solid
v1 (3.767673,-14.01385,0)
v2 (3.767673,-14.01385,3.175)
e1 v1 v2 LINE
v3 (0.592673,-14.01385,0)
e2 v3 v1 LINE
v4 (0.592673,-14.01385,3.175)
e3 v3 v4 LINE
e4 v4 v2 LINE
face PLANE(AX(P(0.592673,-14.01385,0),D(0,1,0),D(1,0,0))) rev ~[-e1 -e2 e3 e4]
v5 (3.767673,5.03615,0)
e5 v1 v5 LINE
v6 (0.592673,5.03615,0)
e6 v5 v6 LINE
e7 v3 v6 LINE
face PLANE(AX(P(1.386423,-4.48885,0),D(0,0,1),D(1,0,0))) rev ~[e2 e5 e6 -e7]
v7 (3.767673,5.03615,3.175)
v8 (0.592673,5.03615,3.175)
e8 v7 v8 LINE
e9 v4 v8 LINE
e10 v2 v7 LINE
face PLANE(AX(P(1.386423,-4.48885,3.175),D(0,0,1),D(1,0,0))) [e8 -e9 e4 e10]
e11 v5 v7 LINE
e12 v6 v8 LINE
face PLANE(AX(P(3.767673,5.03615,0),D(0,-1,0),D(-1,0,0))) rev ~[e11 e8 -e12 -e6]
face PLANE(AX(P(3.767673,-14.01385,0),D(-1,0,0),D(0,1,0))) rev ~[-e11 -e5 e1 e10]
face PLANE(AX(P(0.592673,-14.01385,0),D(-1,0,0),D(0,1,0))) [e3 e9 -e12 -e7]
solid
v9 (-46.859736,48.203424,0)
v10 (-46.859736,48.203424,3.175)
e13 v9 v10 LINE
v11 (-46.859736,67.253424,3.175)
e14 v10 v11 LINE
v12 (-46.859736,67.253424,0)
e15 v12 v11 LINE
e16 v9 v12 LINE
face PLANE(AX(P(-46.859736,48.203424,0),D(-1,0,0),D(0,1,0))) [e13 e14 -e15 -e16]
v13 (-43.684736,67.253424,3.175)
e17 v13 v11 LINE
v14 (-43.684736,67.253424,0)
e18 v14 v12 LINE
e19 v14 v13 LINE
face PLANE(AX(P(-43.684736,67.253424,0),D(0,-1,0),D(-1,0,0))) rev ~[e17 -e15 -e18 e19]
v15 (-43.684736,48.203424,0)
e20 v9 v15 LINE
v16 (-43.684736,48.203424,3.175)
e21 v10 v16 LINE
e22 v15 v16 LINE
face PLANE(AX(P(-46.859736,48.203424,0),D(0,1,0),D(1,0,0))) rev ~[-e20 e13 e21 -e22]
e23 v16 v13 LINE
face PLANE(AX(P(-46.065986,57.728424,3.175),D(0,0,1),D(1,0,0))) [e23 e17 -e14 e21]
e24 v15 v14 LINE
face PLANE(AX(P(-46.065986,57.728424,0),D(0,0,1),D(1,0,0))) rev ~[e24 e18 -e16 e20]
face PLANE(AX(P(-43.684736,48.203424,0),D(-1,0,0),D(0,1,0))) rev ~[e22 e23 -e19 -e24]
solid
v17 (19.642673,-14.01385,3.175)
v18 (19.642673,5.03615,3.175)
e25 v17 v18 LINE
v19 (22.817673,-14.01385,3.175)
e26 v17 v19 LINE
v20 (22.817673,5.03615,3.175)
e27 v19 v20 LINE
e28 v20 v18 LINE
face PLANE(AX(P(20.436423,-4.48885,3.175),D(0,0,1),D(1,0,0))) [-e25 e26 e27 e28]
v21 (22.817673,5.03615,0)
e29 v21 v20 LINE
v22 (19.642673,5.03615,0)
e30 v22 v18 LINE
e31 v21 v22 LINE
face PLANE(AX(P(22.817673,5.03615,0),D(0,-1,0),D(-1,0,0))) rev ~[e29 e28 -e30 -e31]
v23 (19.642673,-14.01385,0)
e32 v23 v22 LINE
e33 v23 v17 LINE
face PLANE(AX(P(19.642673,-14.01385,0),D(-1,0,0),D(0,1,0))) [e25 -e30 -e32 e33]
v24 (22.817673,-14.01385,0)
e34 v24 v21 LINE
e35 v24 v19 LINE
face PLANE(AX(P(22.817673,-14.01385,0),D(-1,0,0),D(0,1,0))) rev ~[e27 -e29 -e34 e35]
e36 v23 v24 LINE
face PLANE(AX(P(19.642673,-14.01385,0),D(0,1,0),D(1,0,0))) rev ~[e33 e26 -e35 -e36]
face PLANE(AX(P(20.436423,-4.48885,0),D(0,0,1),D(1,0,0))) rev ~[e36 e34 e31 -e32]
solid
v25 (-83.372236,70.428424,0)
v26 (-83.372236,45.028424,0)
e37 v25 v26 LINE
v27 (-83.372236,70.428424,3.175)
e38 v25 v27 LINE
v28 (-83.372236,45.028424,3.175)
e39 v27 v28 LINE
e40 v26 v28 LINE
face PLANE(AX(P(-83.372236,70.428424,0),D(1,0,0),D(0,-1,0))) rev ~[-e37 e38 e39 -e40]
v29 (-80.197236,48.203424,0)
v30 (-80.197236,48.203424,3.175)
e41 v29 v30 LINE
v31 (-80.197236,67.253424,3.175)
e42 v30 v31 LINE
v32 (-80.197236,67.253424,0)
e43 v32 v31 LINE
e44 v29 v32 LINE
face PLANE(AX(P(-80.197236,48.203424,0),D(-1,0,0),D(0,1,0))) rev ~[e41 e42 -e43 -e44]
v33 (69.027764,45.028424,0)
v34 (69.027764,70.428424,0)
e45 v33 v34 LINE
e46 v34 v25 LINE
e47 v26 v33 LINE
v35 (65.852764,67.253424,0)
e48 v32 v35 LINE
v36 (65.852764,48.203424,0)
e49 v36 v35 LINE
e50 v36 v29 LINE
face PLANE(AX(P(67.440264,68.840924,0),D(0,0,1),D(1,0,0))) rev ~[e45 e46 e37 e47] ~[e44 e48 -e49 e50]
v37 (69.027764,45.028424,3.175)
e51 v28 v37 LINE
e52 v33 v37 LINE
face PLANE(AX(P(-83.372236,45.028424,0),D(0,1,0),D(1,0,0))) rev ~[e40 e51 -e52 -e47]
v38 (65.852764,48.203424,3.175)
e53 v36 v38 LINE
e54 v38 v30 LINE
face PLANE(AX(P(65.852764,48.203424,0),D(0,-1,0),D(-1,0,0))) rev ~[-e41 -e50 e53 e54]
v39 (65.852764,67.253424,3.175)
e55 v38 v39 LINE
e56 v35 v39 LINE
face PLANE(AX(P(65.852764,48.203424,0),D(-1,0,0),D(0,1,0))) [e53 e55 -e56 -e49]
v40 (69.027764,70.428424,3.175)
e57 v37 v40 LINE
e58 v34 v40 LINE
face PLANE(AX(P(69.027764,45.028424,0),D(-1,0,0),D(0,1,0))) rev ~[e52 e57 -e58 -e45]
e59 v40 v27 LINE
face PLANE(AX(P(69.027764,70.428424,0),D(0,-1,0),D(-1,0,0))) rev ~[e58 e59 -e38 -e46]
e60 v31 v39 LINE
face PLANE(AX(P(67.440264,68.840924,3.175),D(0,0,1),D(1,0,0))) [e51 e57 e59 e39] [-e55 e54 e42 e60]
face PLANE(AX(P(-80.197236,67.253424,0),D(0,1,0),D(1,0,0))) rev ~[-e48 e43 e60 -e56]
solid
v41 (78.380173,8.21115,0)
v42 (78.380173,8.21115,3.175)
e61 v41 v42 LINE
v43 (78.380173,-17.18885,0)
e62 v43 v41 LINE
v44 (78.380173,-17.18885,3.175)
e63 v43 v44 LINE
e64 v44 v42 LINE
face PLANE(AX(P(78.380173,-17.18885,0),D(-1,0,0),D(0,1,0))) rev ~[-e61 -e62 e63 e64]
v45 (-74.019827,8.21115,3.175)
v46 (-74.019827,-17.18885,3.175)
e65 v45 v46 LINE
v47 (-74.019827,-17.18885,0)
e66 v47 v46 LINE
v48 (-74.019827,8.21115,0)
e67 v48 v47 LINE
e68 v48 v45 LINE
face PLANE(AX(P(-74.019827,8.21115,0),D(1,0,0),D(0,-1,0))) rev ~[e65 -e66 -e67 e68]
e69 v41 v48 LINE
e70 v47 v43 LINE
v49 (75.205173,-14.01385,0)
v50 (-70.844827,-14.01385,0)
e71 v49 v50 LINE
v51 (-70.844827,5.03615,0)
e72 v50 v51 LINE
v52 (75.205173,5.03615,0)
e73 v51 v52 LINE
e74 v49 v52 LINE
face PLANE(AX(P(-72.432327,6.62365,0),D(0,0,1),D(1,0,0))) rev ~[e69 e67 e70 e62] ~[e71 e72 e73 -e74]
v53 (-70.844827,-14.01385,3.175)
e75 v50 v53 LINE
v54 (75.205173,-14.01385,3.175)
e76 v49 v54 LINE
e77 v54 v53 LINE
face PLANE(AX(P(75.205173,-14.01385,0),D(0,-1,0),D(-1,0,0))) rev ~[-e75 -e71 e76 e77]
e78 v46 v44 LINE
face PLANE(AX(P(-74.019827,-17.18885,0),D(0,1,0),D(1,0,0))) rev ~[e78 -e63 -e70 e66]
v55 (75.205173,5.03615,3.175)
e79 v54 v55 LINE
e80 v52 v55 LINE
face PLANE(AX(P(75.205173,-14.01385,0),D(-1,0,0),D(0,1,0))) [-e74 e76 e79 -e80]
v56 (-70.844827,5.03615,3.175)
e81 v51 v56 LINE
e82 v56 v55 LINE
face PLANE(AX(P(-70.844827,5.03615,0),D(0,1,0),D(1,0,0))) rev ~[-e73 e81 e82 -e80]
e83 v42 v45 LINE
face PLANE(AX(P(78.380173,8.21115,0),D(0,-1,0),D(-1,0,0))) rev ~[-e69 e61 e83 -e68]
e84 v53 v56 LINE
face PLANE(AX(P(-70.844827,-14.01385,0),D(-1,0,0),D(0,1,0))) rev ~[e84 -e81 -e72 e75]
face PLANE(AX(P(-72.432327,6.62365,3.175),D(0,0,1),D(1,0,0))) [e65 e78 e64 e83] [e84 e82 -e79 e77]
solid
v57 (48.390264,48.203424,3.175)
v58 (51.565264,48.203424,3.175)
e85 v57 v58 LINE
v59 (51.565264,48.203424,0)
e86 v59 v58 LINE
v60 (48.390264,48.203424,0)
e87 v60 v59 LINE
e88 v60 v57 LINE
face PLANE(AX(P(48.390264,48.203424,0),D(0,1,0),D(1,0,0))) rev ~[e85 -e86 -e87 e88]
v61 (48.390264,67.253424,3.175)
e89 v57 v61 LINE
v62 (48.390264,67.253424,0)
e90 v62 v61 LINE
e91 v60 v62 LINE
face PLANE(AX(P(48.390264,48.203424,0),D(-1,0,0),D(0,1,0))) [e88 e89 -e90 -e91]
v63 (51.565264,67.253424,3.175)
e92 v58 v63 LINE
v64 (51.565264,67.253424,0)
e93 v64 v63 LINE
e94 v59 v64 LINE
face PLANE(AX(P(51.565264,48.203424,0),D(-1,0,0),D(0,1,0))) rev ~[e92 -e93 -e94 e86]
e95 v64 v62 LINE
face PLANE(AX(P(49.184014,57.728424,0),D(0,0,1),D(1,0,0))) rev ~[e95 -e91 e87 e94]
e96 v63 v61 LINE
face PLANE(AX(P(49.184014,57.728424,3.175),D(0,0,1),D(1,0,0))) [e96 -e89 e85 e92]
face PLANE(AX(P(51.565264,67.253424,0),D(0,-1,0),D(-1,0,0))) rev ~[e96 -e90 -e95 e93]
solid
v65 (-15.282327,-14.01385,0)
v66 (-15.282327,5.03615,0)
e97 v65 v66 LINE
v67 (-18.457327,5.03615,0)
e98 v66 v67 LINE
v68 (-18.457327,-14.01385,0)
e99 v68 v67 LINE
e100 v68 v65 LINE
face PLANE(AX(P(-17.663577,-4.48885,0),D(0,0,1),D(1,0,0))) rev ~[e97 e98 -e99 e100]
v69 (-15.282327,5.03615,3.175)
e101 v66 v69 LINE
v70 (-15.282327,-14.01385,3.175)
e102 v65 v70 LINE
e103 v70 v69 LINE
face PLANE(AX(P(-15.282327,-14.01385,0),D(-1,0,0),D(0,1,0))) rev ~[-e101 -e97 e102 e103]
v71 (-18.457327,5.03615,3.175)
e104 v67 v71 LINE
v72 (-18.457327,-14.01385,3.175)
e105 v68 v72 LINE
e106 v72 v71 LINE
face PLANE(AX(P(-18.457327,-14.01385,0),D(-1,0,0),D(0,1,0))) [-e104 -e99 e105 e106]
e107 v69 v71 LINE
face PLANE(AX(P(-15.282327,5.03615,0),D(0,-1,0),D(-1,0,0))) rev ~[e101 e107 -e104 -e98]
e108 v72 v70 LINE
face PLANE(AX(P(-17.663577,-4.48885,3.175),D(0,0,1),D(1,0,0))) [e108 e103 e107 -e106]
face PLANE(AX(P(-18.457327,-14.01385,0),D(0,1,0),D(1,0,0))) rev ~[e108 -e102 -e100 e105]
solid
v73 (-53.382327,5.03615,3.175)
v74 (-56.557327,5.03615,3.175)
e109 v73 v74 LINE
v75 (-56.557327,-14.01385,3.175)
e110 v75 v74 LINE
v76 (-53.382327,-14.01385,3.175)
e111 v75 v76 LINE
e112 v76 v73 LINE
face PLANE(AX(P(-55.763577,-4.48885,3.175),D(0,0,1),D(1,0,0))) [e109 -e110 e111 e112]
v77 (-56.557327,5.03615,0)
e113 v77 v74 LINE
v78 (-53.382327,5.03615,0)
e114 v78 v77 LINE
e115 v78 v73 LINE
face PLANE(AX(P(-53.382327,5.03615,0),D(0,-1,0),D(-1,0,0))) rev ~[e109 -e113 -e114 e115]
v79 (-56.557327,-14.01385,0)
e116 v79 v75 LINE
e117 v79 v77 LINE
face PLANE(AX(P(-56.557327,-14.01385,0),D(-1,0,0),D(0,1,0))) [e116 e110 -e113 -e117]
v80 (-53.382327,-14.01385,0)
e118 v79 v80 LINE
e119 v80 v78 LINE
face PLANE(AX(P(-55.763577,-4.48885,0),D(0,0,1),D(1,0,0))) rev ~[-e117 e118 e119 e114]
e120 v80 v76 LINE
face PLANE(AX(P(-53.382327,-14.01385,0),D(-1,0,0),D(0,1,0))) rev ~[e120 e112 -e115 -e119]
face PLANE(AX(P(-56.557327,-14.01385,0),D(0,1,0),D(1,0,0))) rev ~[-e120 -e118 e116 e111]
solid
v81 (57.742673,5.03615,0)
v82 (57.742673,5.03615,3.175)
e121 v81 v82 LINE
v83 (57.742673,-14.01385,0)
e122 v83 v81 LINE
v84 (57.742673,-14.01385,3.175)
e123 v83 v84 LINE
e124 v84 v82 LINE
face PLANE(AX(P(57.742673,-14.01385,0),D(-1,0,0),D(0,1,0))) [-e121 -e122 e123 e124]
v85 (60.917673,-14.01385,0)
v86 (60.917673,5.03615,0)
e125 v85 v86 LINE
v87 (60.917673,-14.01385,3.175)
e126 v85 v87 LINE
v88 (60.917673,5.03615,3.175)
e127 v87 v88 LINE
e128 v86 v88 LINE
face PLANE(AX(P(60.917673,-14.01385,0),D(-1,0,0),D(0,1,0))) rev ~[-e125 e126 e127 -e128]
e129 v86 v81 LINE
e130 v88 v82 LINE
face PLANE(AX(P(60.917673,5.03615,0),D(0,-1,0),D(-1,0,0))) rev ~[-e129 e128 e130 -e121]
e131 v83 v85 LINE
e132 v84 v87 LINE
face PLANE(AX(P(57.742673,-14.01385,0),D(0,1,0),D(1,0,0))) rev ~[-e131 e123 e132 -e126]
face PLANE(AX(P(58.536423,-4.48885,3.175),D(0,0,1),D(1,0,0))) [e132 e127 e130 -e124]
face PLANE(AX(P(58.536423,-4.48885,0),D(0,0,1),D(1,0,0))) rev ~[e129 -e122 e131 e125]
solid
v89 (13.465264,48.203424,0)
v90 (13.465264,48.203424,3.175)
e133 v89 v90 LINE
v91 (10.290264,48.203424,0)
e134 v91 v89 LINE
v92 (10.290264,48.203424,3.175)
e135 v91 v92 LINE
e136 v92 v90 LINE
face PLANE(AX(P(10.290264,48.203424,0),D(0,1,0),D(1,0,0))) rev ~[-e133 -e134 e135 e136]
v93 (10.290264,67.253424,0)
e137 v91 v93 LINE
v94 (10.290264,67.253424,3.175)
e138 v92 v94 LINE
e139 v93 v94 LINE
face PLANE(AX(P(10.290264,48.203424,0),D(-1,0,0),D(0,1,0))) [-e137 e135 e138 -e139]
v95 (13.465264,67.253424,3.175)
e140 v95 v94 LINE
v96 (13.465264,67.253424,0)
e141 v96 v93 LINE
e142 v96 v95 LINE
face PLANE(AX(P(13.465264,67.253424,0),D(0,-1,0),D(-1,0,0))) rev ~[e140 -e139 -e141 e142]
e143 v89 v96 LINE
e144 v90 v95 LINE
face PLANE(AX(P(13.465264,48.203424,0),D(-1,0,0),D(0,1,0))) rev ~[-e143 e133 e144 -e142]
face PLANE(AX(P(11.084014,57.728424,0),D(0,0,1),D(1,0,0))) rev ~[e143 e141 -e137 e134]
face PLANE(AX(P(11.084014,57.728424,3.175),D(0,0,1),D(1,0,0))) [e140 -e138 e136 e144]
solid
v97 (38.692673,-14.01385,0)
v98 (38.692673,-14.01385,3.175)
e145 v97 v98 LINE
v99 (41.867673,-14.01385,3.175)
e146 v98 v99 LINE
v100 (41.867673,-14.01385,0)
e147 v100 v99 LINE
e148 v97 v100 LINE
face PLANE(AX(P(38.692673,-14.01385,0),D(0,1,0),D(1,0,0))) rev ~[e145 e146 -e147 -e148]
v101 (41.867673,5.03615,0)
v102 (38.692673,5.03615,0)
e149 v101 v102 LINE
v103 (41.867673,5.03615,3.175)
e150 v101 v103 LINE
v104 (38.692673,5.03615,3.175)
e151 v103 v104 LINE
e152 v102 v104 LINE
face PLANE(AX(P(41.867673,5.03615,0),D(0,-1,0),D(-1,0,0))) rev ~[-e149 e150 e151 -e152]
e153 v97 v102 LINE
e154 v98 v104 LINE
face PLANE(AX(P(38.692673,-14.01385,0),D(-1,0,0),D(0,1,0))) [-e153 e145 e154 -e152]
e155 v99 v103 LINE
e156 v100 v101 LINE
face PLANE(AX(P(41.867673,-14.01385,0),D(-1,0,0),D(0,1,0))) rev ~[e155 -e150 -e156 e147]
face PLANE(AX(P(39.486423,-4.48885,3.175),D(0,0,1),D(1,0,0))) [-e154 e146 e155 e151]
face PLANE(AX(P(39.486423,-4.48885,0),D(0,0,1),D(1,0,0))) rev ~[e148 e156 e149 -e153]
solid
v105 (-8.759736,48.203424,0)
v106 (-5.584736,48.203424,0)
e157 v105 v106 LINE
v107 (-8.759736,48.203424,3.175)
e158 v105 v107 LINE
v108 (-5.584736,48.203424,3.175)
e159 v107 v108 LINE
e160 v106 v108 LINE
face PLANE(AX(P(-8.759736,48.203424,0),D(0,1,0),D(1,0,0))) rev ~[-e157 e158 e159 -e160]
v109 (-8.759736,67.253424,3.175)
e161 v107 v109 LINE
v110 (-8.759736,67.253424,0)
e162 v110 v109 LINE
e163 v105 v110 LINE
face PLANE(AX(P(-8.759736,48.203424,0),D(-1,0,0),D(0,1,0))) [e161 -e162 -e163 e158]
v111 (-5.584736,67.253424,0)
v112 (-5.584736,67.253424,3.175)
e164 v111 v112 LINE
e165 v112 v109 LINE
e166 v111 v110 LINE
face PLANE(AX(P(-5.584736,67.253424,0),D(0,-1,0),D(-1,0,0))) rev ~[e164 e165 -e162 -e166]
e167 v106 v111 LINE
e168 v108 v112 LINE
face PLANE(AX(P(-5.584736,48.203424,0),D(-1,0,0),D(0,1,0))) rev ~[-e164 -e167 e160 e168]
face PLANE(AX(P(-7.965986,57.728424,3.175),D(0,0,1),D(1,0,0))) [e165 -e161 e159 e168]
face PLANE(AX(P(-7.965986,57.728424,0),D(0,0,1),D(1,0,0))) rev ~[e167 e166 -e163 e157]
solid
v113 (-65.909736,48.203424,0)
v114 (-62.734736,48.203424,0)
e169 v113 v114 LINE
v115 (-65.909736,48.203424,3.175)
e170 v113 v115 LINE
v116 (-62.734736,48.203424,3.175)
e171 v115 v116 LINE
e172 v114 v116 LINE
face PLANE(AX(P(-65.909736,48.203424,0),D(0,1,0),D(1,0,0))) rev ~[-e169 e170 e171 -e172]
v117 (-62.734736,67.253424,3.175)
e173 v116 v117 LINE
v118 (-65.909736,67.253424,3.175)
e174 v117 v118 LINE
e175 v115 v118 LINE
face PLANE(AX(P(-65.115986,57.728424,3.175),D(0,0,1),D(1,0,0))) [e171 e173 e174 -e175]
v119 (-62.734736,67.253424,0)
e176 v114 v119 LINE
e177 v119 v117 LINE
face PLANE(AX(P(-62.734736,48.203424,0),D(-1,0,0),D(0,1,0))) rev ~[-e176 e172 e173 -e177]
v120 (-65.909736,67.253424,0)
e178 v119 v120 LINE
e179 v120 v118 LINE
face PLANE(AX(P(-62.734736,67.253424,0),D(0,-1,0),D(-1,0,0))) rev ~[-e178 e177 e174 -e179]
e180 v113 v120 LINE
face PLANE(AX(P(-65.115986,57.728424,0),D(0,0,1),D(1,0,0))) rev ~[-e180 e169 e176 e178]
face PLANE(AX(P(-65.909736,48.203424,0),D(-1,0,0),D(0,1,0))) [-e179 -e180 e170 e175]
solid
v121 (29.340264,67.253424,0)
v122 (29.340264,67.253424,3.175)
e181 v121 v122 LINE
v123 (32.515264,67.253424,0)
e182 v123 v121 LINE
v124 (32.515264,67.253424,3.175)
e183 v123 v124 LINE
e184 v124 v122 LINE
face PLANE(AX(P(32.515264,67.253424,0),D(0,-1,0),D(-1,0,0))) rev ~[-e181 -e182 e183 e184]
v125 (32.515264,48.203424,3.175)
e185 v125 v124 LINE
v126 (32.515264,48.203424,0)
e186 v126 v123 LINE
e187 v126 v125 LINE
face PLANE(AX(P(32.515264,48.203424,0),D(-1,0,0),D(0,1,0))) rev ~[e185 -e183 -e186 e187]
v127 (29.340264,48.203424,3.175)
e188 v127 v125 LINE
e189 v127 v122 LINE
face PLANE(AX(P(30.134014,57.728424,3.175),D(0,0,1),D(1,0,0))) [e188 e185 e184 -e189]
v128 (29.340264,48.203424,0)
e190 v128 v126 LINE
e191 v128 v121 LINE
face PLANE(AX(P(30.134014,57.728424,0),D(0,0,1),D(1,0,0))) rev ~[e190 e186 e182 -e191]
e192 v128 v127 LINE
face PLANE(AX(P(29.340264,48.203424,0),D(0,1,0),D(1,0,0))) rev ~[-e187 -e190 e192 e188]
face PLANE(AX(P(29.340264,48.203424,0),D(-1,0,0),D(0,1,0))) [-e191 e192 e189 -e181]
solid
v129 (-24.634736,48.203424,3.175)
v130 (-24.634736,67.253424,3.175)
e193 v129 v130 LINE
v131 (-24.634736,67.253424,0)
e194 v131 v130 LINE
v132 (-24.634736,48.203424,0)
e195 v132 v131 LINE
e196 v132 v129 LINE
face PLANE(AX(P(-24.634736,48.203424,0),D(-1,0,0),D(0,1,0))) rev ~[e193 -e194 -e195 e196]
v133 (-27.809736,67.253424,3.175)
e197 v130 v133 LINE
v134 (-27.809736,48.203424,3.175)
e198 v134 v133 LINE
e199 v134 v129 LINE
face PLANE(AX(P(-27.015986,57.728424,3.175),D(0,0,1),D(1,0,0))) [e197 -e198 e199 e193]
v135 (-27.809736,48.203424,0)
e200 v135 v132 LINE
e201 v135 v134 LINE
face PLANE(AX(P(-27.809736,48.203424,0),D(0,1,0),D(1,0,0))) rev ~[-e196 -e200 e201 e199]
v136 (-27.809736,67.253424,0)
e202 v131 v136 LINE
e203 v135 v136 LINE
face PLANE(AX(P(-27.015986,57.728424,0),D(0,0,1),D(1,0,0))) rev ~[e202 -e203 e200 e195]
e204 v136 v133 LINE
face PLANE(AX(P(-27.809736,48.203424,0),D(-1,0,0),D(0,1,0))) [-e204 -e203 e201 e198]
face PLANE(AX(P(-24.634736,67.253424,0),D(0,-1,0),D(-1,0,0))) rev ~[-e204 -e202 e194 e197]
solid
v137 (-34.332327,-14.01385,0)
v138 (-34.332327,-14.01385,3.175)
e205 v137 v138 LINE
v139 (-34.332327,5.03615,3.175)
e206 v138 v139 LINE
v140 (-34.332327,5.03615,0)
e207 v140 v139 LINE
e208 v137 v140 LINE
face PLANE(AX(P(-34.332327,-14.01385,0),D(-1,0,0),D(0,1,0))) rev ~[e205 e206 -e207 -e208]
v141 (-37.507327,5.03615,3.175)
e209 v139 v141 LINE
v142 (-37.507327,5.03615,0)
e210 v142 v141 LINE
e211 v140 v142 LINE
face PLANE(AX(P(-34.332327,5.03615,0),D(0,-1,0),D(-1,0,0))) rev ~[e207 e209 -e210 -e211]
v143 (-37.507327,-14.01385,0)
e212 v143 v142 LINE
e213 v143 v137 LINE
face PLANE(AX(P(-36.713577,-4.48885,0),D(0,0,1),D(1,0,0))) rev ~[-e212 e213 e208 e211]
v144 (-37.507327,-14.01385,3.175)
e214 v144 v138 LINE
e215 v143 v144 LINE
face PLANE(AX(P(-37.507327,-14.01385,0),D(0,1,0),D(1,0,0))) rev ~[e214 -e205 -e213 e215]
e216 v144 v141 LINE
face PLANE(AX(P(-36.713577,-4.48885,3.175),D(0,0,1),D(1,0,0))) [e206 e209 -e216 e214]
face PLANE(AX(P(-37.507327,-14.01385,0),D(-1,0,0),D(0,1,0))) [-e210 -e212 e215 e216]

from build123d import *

# Parameters (mm, degrees)
F0_W     = 3.175
F0_H     = 3.175
F0_W_2   = 14.2875
F0_W_3   = 1.5875
F0_W_4   = 15.875
F0_H_2   = 19.05
F1_DEPTH = 3.175
F2_DEPTH = 3.175


with BuildPart() as f1:
    # F0 (on Top) → F1 (new body)
    with BuildSketch(Plane.XY):
        with Locations((-72.4323269486, 6.6236498341)):
            Rectangle(F0_W, F0_H)
        with Locations((76.7926730514, 6.6236498341)):
            Rectangle(F0_W, F0_H)
        with Locations((-72.4323269486, -15.6013501659)):
            Rectangle(F0_W, F0_H)
        with Locations((76.7926730514, -15.6013501659)):
            Rectangle(F0_W, F0_H)
        with Locations((-63.7010769486, 6.6236498341)):
            Rectangle(F0_W_2, F0_H)
        with Locations((-55.7635769486, 6.6236498341)):
            Rectangle(F0_W_3, F0_H)
        with Locations((-54.1760769486, 6.6236498341)):
            Rectangle(F0_W_3, F0_H)
        with Locations((-45.4448269486, 6.6236498341)):
            Rectangle(F0_W_4, F0_H)
        with Locations((-36.7135769486, 6.6236498341)):
            Rectangle(F0_W_3, F0_H)
        with Locations((-35.1260769486, 6.6236498341)):
            Rectangle(F0_W_3, F0_H)
        with Locations((-26.3948269486, 6.6236498341)):
            Rectangle(F0_W_4, F0_H)
        with Locations((-17.6635769486, 6.6236498341)):
            Rectangle(F0_W_3, F0_H)
        with Locations((-16.0760769486, 6.6236498341)):
            Rectangle(F0_W_3, F0_H)
        with Locations((-7.3448269486, 6.6236498341)):
            Rectangle(F0_W_4, F0_H)
        with Locations((1.3864230514, 6.6236498341)):
            Rectangle(F0_W_3, F0_H)
        with Locations((2.9739230514, 6.6236498341)):
            Rectangle(F0_W_3, F0_H)
        with Locations((11.7051730514, 6.6236498341)):
            Rectangle(F0_W_4, F0_H)
        with Locations((20.4364230514, 6.6236498341)):
            Rectangle(F0_W_3, F0_H)
        with Locations((22.0239230514, 6.6236498341)):
            Rectangle(F0_W_3, F0_H)
        with Locations((30.7551730514, 6.6236498341)):
            Rectangle(F0_W_4, F0_H)
        with Locations((39.4864230514, 6.6236498341)):
            Rectangle(F0_W_3, F0_H)
        with Locations((41.0739230514, 6.6236498341)):
            Rectangle(F0_W_3, F0_H)
        with Locations((49.8051730514, 6.6236498341)):
            Rectangle(F0_W_4, F0_H)
        with Locations((58.5364230514, 6.6236498341)):
            Rectangle(F0_W_3, F0_H)
        with Locations((60.1239230514, 6.6236498341)):
            Rectangle(F0_W_3, F0_H)
        with Locations((68.0614230514, 6.6236498341)):
            Rectangle(F0_W_2, F0_H)
        with Locations((-63.7010769486, -15.6013501659)):
            Rectangle(F0_W_2, F0_H)
        with Locations((-55.7635769486, -15.6013501659)):
            Rectangle(F0_W_3, F0_H)
        with Locations((-54.1760769486, -15.6013501659)):
            Rectangle(F0_W_3, F0_H)
        with Locations((-45.4448269486, -15.6013501659)):
            Rectangle(F0_W_4, F0_H)
        with Locations((-36.7135769486, -15.6013501659)):
            Rectangle(F0_W_3, F0_H)
        with Locations((-35.1260769486, -15.6013501659)):
            Rectangle(F0_W_3, F0_H)
        with Locations((-26.3948269486, -15.6013501659)):
            Rectangle(F0_W_4, F0_H)
        with Locations((-17.6635769486, -15.6013501659)):
            Rectangle(F0_W_3, F0_H)
        with Locations((-16.0760769486, -15.6013501659)):
            Rectangle(F0_W_3, F0_H)
        with Locations((-7.3448269486, -15.6013501659)):
            Rectangle(F0_W_4, F0_H)
        with Locations((1.3864230514, -15.6013501659)):
            Rectangle(F0_W_3, F0_H)
        with Locations((2.9739230514, -15.6013501659)):
            Rectangle(F0_W_3, F0_H)
        with Locations((11.7051730514, -15.6013501659)):
            Rectangle(F0_W_4, F0_H)
        with Locations((20.4364230514, -15.6013501659)):
            Rectangle(F0_W_3, F0_H)
        with Locations((22.0239230514, -15.6013501659)):
            Rectangle(F0_W_3, F0_H)
        with Locations((30.7551730514, -15.6013501659)):
            Rectangle(F0_W_4, F0_H)
        with Locations((39.4864230514, -15.6013501659)):
            Rectangle(F0_W_3, F0_H)
        with Locations((41.0739230514, -15.6013501659)):
            Rectangle(F0_W_3, F0_H)
        with Locations((49.8051730514, -15.6013501659)):
            Rectangle(F0_W_4, F0_H)
        with Locations((58.5364230514, -15.6013501659)):
            Rectangle(F0_W_3, F0_H)
        with Locations((60.1239230514, -15.6013501659)):
            Rectangle(F0_W_3, F0_H)
        with Locations((68.0614230514, -15.6013501659)):
            Rectangle(F0_W_2, F0_H)
        with Locations((-72.4323269486, -4.4888501659)):
            Rectangle(F0_W, F0_H_2)
        with Locations((76.7926730514, -4.4888501659)):
            Rectangle(F0_W, F0_H_2)
    extrude(amount=F1_DEPTH)


with BuildPart() as f1b:
    # F0 (on Top) → F1, piece 2 (new body)
    with BuildSketch(Plane.XY):
        with Locations((67.4402641416, 68.8409235835)):
            Rectangle(F0_W, F0_H)
        with Locations((-81.7847358584, 46.6159235835)):
            Rectangle(F0_W, F0_H)
        with Locations((67.4402641416, 46.6159235835)):
            Rectangle(F0_W, F0_H)
        with Locations((-73.0534858584, 68.8409235835)):
            Rectangle(F0_W_2, F0_H)
        with Locations((-65.1159858584, 68.8409235835)):
            Rectangle(F0_W_3, F0_H)
        with Locations((-63.5284858584, 68.8409235835)):
            Rectangle(F0_W_3, F0_H)
        with Locations((-54.7972358584, 68.8409235835)):
            Rectangle(F0_W_4, F0_H)
        with Locations((-46.0659858584, 68.8409235835)):
            Rectangle(F0_W_3, F0_H)
        with Locations((-44.4784858584, 68.8409235835)):
            Rectangle(F0_W_3, F0_H)
        with Locations((-35.7472358584, 68.8409235835)):
            Rectangle(F0_W_4, F0_H)
        with Locations((-27.0159858584, 68.8409235835)):
            Rectangle(F0_W_3, F0_H)
        with Locations((-25.4284858584, 68.8409235835)):
            Rectangle(F0_W_3, F0_H)
        with Locations((-16.6972358584, 68.8409235835)):
            Rectangle(F0_W_4, F0_H)
        with Locations((-7.9659858584, 68.8409235835)):
            Rectangle(F0_W_3, F0_H)
        with Locations((-6.3784858584, 68.8409235835)):
            Rectangle(F0_W_3, F0_H)
        with Locations((2.3527641416, 68.8409235835)):
            Rectangle(F0_W_4, F0_H)
        with Locations((11.0840141416, 68.8409235835)):
            Rectangle(F0_W_3, F0_H)
        with Locations((12.6715141416, 68.8409235835)):
            Rectangle(F0_W_3, F0_H)
        with Locations((21.4027641416, 68.8409235835)):
            Rectangle(F0_W_4, F0_H)
        with Locations((30.1340141416, 68.8409235835)):
            Rectangle(F0_W_3, F0_H)
        with Locations((31.7215141416, 68.8409235835)):
            Rectangle(F0_W_3, F0_H)
        with Locations((40.4527641416, 68.8409235835)):
            Rectangle(F0_W_4, F0_H)
        with Locations((49.1840141416, 68.8409235835)):
            Rectangle(F0_W_3, F0_H)
        with Locations((50.7715141416, 68.8409235835)):
            Rectangle(F0_W_3, F0_H)
        with Locations((58.7090141416, 68.8409235835)):
            Rectangle(F0_W_2, F0_H)
        with Locations((-73.0534858584, 46.6159235835)):
            Rectangle(F0_W_2, F0_H)
        with Locations((-65.1159858584, 46.6159235835)):
            Rectangle(F0_W_3, F0_H)
        with Locations((-63.5284858584, 46.6159235835)):
            Rectangle(F0_W_3, F0_H)
        with Locations((-54.7972358584, 46.6159235835)):
            Rectangle(F0_W_4, F0_H)
        with Locations((-46.0659858584, 46.6159235835)):
            Rectangle(F0_W_3, F0_H)
        with Locations((-44.4784858584, 46.6159235835)):
            Rectangle(F0_W_3, F0_H)
        with Locations((-35.7472358584, 46.6159235835)):
            Rectangle(F0_W_4, F0_H)
        with Locations((-27.0159858584, 46.6159235835)):
            Rectangle(F0_W_3, F0_H)
        with Locations((-25.4284858584, 46.6159235835)):
            Rectangle(F0_W_3, F0_H)
        with Locations((-16.6972358584, 46.6159235835)):
            Rectangle(F0_W_4, F0_H)
        with Locations((-7.9659858584, 46.6159235835)):
            Rectangle(F0_W_3, F0_H)
        with Locations((-6.3784858584, 46.6159235835)):
            Rectangle(F0_W_3, F0_H)
        with Locations((2.3527641416, 46.6159235835)):
            Rectangle(F0_W_4, F0_H)
        with Locations((11.0840141416, 46.6159235835)):
            Rectangle(F0_W_3, F0_H)
        with Locations((12.6715141416, 46.6159235835)):
            Rectangle(F0_W_3, F0_H)
        with Locations((21.4027641416, 46.6159235835)):
            Rectangle(F0_W_4, F0_H)
        with Locations((30.1340141416, 46.6159235835)):
            Rectangle(F0_W_3, F0_H)
        with Locations((31.7215141416, 46.6159235835)):
            Rectangle(F0_W_3, F0_H)
        with Locations((40.4527641416, 46.6159235835)):
            Rectangle(F0_W_4, F0_H)
        with Locations((49.1840141416, 46.6159235835)):
            Rectangle(F0_W_3, F0_H)
        with Locations((50.7715141416, 46.6159235835)):
            Rectangle(F0_W_3, F0_H)
        with Locations((58.7090141416, 46.6159235835)):
            Rectangle(F0_W_2, F0_H)
        with Locations((-81.7847358584, 57.7284235835)):
            Rectangle(F0_W, F0_H_2)
        with Locations((67.4402641416, 57.7284235835)):
            Rectangle(F0_W, F0_H_2)
        with Locations((-81.7847358584, 68.8409235835)):
            Rectangle(F0_W, F0_H)
    extrude(amount=F1_DEPTH)


with BuildPart() as f2:
    # F0 (on Top) → F2 (new body)
    with BuildSketch(Plane.XY):
        with Locations((-65.1159858584, 57.7284235835)):
            Rectangle(F0_W_3, F0_H_2)
        with Locations((-63.5284858584, 57.7284235835)):
            Rectangle(F0_W_3, F0_H_2)
    extrude(amount=F2_DEPTH)


with BuildPart() as f2b:
    # F0 (on Top) → F2, piece 2 (new body)
    with BuildSketch(Plane.XY):
        with Locations((-46.0659858584, 57.7284235835)):
            Rectangle(F0_W_3, F0_H_2)
        with Locations((-44.4784858584, 57.7284235835)):
            Rectangle(F0_W_3, F0_H_2)
    extrude(amount=F2_DEPTH)


with BuildPart() as f2c:
    # F0 (on Top) → F2, piece 3 (new body)
    with BuildSketch(Plane.XY):
        with Locations((-27.0159858584, 57.7284235835)):
            Rectangle(F0_W_3, F0_H_2)
        with Locations((-25.4284858584, 57.7284235835)):
            Rectangle(F0_W_3, F0_H_2)
    extrude(amount=F2_DEPTH)


with BuildPart() as f2d:
    # F0 (on Top) → F2, piece 4 (new body)
    with BuildSketch(Plane.XY):
        with Locations((-7.9659858584, 57.7284235835)):
            Rectangle(F0_W_3, F0_H_2)
        with Locations((-6.3784858584, 57.7284235835)):
            Rectangle(F0_W_3, F0_H_2)
    extrude(amount=F2_DEPTH)


with BuildPart() as f2e:
    # F0 (on Top) → F2, piece 5 (new body)
    with BuildSketch(Plane.XY):
        with Locations((11.0840141416, 57.7284235835)):
            Rectangle(F0_W_3, F0_H_2)
        with Locations((12.6715141416, 57.7284235835)):
            Rectangle(F0_W_3, F0_H_2)
    extrude(amount=F2_DEPTH)


with BuildPart() as f2f:
    # F0 (on Top) → F2, piece 6 (new body)
    with BuildSketch(Plane.XY):
        with Locations((30.1340141416, 57.7284235835)):
            Rectangle(F0_W_3, F0_H_2)
        with Locations((31.7215141416, 57.7284235835)):
            Rectangle(F0_W_3, F0_H_2)
    extrude(amount=F2_DEPTH)


with BuildPart() as f2g:
    # F0 (on Top) → F2, piece 7 (new body)
    with BuildSketch(Plane.XY):
        with Locations((49.1840141416, 57.7284235835)):
            Rectangle(F0_W_3, F0_H_2)
        with Locations((50.7715141416, 57.7284235835)):
            Rectangle(F0_W_3, F0_H_2)
    extrude(amount=F2_DEPTH)


with BuildPart() as f2h:
    # F0 (on Top) → F2, piece 8 (new body)
    with BuildSketch(Plane.XY):
        with Locations((-55.7635769486, -4.4888501659)):
            Rectangle(F0_W_3, F0_H_2)
        with Locations((-54.1760769486, -4.4888501659)):
            Rectangle(F0_W_3, F0_H_2)
    extrude(amount=F2_DEPTH)


with BuildPart() as f2i:
    # F0 (on Top) → F2, piece 9 (new body)
    with BuildSketch(Plane.XY):
        with Locations((-36.7135769486, -4.4888501659)):
            Rectangle(F0_W_3, F0_H_2)
        with Locations((-35.1260769486, -4.4888501659)):
            Rectangle(F0_W_3, F0_H_2)
    extrude(amount=F2_DEPTH)


with BuildPart() as f2j:
    # F0 (on Top) → F2, piece 10 (new body)
    with BuildSketch(Plane.XY):
        with Locations((-17.6635769486, -4.4888501659)):
            Rectangle(F0_W_3, F0_H_2)
        with Locations((-16.0760769486, -4.4888501659)):
            Rectangle(F0_W_3, F0_H_2)
    extrude(amount=F2_DEPTH)


with BuildPart() as f2k:
    # F0 (on Top) → F2, piece 11 (new body)
    with BuildSketch(Plane.XY):
        with Locations((1.3864230514, -4.4888501659)):
            Rectangle(F0_W_3, F0_H_2)
        with Locations((2.9739230514, -4.4888501659)):
            Rectangle(F0_W_3, F0_H_2)
    extrude(amount=F2_DEPTH)


with BuildPart() as f2l:
    # F0 (on Top) → F2, piece 12 (new body)
    with BuildSketch(Plane.XY):
        with Locations((20.4364230514, -4.4888501659)):
            Rectangle(F0_W_3, F0_H_2)
        with Locations((22.0239230514, -4.4888501659)):
            Rectangle(F0_W_3, F0_H_2)
    extrude(amount=F2_DEPTH)


with BuildPart() as f2m:
    # F0 (on Top) → F2, piece 13 (new body)
    with BuildSketch(Plane.XY):
        with Locations((39.4864230514, -4.4888501659)):
            Rectangle(F0_W_3, F0_H_2)
        with Locations((41.0739230514, -4.4888501659)):
            Rectangle(F0_W_3, F0_H_2)
    extrude(amount=F2_DEPTH)


with BuildPart() as f2n:
    # F0 (on Top) → F2, piece 14 (new body)
    with BuildSketch(Plane.XY):
        with Locations((58.5364230514, -4.4888501659)):
            Rectangle(F0_W_3, F0_H_2)
        with Locations((60.1239230514, -4.4888501659)):
            Rectangle(F0_W_3, F0_H_2)
    extrude(amount=F2_DEPTH)


solid = Compound([f1.part, f1b.part, f2.part, f2b.part, f2c.part, f2d.part, f2e.part, f2f.part, f2g.part, f2h.part, f2i.part, f2j.part, f2k.part, f2l.part, f2m.part, f2n.part])
